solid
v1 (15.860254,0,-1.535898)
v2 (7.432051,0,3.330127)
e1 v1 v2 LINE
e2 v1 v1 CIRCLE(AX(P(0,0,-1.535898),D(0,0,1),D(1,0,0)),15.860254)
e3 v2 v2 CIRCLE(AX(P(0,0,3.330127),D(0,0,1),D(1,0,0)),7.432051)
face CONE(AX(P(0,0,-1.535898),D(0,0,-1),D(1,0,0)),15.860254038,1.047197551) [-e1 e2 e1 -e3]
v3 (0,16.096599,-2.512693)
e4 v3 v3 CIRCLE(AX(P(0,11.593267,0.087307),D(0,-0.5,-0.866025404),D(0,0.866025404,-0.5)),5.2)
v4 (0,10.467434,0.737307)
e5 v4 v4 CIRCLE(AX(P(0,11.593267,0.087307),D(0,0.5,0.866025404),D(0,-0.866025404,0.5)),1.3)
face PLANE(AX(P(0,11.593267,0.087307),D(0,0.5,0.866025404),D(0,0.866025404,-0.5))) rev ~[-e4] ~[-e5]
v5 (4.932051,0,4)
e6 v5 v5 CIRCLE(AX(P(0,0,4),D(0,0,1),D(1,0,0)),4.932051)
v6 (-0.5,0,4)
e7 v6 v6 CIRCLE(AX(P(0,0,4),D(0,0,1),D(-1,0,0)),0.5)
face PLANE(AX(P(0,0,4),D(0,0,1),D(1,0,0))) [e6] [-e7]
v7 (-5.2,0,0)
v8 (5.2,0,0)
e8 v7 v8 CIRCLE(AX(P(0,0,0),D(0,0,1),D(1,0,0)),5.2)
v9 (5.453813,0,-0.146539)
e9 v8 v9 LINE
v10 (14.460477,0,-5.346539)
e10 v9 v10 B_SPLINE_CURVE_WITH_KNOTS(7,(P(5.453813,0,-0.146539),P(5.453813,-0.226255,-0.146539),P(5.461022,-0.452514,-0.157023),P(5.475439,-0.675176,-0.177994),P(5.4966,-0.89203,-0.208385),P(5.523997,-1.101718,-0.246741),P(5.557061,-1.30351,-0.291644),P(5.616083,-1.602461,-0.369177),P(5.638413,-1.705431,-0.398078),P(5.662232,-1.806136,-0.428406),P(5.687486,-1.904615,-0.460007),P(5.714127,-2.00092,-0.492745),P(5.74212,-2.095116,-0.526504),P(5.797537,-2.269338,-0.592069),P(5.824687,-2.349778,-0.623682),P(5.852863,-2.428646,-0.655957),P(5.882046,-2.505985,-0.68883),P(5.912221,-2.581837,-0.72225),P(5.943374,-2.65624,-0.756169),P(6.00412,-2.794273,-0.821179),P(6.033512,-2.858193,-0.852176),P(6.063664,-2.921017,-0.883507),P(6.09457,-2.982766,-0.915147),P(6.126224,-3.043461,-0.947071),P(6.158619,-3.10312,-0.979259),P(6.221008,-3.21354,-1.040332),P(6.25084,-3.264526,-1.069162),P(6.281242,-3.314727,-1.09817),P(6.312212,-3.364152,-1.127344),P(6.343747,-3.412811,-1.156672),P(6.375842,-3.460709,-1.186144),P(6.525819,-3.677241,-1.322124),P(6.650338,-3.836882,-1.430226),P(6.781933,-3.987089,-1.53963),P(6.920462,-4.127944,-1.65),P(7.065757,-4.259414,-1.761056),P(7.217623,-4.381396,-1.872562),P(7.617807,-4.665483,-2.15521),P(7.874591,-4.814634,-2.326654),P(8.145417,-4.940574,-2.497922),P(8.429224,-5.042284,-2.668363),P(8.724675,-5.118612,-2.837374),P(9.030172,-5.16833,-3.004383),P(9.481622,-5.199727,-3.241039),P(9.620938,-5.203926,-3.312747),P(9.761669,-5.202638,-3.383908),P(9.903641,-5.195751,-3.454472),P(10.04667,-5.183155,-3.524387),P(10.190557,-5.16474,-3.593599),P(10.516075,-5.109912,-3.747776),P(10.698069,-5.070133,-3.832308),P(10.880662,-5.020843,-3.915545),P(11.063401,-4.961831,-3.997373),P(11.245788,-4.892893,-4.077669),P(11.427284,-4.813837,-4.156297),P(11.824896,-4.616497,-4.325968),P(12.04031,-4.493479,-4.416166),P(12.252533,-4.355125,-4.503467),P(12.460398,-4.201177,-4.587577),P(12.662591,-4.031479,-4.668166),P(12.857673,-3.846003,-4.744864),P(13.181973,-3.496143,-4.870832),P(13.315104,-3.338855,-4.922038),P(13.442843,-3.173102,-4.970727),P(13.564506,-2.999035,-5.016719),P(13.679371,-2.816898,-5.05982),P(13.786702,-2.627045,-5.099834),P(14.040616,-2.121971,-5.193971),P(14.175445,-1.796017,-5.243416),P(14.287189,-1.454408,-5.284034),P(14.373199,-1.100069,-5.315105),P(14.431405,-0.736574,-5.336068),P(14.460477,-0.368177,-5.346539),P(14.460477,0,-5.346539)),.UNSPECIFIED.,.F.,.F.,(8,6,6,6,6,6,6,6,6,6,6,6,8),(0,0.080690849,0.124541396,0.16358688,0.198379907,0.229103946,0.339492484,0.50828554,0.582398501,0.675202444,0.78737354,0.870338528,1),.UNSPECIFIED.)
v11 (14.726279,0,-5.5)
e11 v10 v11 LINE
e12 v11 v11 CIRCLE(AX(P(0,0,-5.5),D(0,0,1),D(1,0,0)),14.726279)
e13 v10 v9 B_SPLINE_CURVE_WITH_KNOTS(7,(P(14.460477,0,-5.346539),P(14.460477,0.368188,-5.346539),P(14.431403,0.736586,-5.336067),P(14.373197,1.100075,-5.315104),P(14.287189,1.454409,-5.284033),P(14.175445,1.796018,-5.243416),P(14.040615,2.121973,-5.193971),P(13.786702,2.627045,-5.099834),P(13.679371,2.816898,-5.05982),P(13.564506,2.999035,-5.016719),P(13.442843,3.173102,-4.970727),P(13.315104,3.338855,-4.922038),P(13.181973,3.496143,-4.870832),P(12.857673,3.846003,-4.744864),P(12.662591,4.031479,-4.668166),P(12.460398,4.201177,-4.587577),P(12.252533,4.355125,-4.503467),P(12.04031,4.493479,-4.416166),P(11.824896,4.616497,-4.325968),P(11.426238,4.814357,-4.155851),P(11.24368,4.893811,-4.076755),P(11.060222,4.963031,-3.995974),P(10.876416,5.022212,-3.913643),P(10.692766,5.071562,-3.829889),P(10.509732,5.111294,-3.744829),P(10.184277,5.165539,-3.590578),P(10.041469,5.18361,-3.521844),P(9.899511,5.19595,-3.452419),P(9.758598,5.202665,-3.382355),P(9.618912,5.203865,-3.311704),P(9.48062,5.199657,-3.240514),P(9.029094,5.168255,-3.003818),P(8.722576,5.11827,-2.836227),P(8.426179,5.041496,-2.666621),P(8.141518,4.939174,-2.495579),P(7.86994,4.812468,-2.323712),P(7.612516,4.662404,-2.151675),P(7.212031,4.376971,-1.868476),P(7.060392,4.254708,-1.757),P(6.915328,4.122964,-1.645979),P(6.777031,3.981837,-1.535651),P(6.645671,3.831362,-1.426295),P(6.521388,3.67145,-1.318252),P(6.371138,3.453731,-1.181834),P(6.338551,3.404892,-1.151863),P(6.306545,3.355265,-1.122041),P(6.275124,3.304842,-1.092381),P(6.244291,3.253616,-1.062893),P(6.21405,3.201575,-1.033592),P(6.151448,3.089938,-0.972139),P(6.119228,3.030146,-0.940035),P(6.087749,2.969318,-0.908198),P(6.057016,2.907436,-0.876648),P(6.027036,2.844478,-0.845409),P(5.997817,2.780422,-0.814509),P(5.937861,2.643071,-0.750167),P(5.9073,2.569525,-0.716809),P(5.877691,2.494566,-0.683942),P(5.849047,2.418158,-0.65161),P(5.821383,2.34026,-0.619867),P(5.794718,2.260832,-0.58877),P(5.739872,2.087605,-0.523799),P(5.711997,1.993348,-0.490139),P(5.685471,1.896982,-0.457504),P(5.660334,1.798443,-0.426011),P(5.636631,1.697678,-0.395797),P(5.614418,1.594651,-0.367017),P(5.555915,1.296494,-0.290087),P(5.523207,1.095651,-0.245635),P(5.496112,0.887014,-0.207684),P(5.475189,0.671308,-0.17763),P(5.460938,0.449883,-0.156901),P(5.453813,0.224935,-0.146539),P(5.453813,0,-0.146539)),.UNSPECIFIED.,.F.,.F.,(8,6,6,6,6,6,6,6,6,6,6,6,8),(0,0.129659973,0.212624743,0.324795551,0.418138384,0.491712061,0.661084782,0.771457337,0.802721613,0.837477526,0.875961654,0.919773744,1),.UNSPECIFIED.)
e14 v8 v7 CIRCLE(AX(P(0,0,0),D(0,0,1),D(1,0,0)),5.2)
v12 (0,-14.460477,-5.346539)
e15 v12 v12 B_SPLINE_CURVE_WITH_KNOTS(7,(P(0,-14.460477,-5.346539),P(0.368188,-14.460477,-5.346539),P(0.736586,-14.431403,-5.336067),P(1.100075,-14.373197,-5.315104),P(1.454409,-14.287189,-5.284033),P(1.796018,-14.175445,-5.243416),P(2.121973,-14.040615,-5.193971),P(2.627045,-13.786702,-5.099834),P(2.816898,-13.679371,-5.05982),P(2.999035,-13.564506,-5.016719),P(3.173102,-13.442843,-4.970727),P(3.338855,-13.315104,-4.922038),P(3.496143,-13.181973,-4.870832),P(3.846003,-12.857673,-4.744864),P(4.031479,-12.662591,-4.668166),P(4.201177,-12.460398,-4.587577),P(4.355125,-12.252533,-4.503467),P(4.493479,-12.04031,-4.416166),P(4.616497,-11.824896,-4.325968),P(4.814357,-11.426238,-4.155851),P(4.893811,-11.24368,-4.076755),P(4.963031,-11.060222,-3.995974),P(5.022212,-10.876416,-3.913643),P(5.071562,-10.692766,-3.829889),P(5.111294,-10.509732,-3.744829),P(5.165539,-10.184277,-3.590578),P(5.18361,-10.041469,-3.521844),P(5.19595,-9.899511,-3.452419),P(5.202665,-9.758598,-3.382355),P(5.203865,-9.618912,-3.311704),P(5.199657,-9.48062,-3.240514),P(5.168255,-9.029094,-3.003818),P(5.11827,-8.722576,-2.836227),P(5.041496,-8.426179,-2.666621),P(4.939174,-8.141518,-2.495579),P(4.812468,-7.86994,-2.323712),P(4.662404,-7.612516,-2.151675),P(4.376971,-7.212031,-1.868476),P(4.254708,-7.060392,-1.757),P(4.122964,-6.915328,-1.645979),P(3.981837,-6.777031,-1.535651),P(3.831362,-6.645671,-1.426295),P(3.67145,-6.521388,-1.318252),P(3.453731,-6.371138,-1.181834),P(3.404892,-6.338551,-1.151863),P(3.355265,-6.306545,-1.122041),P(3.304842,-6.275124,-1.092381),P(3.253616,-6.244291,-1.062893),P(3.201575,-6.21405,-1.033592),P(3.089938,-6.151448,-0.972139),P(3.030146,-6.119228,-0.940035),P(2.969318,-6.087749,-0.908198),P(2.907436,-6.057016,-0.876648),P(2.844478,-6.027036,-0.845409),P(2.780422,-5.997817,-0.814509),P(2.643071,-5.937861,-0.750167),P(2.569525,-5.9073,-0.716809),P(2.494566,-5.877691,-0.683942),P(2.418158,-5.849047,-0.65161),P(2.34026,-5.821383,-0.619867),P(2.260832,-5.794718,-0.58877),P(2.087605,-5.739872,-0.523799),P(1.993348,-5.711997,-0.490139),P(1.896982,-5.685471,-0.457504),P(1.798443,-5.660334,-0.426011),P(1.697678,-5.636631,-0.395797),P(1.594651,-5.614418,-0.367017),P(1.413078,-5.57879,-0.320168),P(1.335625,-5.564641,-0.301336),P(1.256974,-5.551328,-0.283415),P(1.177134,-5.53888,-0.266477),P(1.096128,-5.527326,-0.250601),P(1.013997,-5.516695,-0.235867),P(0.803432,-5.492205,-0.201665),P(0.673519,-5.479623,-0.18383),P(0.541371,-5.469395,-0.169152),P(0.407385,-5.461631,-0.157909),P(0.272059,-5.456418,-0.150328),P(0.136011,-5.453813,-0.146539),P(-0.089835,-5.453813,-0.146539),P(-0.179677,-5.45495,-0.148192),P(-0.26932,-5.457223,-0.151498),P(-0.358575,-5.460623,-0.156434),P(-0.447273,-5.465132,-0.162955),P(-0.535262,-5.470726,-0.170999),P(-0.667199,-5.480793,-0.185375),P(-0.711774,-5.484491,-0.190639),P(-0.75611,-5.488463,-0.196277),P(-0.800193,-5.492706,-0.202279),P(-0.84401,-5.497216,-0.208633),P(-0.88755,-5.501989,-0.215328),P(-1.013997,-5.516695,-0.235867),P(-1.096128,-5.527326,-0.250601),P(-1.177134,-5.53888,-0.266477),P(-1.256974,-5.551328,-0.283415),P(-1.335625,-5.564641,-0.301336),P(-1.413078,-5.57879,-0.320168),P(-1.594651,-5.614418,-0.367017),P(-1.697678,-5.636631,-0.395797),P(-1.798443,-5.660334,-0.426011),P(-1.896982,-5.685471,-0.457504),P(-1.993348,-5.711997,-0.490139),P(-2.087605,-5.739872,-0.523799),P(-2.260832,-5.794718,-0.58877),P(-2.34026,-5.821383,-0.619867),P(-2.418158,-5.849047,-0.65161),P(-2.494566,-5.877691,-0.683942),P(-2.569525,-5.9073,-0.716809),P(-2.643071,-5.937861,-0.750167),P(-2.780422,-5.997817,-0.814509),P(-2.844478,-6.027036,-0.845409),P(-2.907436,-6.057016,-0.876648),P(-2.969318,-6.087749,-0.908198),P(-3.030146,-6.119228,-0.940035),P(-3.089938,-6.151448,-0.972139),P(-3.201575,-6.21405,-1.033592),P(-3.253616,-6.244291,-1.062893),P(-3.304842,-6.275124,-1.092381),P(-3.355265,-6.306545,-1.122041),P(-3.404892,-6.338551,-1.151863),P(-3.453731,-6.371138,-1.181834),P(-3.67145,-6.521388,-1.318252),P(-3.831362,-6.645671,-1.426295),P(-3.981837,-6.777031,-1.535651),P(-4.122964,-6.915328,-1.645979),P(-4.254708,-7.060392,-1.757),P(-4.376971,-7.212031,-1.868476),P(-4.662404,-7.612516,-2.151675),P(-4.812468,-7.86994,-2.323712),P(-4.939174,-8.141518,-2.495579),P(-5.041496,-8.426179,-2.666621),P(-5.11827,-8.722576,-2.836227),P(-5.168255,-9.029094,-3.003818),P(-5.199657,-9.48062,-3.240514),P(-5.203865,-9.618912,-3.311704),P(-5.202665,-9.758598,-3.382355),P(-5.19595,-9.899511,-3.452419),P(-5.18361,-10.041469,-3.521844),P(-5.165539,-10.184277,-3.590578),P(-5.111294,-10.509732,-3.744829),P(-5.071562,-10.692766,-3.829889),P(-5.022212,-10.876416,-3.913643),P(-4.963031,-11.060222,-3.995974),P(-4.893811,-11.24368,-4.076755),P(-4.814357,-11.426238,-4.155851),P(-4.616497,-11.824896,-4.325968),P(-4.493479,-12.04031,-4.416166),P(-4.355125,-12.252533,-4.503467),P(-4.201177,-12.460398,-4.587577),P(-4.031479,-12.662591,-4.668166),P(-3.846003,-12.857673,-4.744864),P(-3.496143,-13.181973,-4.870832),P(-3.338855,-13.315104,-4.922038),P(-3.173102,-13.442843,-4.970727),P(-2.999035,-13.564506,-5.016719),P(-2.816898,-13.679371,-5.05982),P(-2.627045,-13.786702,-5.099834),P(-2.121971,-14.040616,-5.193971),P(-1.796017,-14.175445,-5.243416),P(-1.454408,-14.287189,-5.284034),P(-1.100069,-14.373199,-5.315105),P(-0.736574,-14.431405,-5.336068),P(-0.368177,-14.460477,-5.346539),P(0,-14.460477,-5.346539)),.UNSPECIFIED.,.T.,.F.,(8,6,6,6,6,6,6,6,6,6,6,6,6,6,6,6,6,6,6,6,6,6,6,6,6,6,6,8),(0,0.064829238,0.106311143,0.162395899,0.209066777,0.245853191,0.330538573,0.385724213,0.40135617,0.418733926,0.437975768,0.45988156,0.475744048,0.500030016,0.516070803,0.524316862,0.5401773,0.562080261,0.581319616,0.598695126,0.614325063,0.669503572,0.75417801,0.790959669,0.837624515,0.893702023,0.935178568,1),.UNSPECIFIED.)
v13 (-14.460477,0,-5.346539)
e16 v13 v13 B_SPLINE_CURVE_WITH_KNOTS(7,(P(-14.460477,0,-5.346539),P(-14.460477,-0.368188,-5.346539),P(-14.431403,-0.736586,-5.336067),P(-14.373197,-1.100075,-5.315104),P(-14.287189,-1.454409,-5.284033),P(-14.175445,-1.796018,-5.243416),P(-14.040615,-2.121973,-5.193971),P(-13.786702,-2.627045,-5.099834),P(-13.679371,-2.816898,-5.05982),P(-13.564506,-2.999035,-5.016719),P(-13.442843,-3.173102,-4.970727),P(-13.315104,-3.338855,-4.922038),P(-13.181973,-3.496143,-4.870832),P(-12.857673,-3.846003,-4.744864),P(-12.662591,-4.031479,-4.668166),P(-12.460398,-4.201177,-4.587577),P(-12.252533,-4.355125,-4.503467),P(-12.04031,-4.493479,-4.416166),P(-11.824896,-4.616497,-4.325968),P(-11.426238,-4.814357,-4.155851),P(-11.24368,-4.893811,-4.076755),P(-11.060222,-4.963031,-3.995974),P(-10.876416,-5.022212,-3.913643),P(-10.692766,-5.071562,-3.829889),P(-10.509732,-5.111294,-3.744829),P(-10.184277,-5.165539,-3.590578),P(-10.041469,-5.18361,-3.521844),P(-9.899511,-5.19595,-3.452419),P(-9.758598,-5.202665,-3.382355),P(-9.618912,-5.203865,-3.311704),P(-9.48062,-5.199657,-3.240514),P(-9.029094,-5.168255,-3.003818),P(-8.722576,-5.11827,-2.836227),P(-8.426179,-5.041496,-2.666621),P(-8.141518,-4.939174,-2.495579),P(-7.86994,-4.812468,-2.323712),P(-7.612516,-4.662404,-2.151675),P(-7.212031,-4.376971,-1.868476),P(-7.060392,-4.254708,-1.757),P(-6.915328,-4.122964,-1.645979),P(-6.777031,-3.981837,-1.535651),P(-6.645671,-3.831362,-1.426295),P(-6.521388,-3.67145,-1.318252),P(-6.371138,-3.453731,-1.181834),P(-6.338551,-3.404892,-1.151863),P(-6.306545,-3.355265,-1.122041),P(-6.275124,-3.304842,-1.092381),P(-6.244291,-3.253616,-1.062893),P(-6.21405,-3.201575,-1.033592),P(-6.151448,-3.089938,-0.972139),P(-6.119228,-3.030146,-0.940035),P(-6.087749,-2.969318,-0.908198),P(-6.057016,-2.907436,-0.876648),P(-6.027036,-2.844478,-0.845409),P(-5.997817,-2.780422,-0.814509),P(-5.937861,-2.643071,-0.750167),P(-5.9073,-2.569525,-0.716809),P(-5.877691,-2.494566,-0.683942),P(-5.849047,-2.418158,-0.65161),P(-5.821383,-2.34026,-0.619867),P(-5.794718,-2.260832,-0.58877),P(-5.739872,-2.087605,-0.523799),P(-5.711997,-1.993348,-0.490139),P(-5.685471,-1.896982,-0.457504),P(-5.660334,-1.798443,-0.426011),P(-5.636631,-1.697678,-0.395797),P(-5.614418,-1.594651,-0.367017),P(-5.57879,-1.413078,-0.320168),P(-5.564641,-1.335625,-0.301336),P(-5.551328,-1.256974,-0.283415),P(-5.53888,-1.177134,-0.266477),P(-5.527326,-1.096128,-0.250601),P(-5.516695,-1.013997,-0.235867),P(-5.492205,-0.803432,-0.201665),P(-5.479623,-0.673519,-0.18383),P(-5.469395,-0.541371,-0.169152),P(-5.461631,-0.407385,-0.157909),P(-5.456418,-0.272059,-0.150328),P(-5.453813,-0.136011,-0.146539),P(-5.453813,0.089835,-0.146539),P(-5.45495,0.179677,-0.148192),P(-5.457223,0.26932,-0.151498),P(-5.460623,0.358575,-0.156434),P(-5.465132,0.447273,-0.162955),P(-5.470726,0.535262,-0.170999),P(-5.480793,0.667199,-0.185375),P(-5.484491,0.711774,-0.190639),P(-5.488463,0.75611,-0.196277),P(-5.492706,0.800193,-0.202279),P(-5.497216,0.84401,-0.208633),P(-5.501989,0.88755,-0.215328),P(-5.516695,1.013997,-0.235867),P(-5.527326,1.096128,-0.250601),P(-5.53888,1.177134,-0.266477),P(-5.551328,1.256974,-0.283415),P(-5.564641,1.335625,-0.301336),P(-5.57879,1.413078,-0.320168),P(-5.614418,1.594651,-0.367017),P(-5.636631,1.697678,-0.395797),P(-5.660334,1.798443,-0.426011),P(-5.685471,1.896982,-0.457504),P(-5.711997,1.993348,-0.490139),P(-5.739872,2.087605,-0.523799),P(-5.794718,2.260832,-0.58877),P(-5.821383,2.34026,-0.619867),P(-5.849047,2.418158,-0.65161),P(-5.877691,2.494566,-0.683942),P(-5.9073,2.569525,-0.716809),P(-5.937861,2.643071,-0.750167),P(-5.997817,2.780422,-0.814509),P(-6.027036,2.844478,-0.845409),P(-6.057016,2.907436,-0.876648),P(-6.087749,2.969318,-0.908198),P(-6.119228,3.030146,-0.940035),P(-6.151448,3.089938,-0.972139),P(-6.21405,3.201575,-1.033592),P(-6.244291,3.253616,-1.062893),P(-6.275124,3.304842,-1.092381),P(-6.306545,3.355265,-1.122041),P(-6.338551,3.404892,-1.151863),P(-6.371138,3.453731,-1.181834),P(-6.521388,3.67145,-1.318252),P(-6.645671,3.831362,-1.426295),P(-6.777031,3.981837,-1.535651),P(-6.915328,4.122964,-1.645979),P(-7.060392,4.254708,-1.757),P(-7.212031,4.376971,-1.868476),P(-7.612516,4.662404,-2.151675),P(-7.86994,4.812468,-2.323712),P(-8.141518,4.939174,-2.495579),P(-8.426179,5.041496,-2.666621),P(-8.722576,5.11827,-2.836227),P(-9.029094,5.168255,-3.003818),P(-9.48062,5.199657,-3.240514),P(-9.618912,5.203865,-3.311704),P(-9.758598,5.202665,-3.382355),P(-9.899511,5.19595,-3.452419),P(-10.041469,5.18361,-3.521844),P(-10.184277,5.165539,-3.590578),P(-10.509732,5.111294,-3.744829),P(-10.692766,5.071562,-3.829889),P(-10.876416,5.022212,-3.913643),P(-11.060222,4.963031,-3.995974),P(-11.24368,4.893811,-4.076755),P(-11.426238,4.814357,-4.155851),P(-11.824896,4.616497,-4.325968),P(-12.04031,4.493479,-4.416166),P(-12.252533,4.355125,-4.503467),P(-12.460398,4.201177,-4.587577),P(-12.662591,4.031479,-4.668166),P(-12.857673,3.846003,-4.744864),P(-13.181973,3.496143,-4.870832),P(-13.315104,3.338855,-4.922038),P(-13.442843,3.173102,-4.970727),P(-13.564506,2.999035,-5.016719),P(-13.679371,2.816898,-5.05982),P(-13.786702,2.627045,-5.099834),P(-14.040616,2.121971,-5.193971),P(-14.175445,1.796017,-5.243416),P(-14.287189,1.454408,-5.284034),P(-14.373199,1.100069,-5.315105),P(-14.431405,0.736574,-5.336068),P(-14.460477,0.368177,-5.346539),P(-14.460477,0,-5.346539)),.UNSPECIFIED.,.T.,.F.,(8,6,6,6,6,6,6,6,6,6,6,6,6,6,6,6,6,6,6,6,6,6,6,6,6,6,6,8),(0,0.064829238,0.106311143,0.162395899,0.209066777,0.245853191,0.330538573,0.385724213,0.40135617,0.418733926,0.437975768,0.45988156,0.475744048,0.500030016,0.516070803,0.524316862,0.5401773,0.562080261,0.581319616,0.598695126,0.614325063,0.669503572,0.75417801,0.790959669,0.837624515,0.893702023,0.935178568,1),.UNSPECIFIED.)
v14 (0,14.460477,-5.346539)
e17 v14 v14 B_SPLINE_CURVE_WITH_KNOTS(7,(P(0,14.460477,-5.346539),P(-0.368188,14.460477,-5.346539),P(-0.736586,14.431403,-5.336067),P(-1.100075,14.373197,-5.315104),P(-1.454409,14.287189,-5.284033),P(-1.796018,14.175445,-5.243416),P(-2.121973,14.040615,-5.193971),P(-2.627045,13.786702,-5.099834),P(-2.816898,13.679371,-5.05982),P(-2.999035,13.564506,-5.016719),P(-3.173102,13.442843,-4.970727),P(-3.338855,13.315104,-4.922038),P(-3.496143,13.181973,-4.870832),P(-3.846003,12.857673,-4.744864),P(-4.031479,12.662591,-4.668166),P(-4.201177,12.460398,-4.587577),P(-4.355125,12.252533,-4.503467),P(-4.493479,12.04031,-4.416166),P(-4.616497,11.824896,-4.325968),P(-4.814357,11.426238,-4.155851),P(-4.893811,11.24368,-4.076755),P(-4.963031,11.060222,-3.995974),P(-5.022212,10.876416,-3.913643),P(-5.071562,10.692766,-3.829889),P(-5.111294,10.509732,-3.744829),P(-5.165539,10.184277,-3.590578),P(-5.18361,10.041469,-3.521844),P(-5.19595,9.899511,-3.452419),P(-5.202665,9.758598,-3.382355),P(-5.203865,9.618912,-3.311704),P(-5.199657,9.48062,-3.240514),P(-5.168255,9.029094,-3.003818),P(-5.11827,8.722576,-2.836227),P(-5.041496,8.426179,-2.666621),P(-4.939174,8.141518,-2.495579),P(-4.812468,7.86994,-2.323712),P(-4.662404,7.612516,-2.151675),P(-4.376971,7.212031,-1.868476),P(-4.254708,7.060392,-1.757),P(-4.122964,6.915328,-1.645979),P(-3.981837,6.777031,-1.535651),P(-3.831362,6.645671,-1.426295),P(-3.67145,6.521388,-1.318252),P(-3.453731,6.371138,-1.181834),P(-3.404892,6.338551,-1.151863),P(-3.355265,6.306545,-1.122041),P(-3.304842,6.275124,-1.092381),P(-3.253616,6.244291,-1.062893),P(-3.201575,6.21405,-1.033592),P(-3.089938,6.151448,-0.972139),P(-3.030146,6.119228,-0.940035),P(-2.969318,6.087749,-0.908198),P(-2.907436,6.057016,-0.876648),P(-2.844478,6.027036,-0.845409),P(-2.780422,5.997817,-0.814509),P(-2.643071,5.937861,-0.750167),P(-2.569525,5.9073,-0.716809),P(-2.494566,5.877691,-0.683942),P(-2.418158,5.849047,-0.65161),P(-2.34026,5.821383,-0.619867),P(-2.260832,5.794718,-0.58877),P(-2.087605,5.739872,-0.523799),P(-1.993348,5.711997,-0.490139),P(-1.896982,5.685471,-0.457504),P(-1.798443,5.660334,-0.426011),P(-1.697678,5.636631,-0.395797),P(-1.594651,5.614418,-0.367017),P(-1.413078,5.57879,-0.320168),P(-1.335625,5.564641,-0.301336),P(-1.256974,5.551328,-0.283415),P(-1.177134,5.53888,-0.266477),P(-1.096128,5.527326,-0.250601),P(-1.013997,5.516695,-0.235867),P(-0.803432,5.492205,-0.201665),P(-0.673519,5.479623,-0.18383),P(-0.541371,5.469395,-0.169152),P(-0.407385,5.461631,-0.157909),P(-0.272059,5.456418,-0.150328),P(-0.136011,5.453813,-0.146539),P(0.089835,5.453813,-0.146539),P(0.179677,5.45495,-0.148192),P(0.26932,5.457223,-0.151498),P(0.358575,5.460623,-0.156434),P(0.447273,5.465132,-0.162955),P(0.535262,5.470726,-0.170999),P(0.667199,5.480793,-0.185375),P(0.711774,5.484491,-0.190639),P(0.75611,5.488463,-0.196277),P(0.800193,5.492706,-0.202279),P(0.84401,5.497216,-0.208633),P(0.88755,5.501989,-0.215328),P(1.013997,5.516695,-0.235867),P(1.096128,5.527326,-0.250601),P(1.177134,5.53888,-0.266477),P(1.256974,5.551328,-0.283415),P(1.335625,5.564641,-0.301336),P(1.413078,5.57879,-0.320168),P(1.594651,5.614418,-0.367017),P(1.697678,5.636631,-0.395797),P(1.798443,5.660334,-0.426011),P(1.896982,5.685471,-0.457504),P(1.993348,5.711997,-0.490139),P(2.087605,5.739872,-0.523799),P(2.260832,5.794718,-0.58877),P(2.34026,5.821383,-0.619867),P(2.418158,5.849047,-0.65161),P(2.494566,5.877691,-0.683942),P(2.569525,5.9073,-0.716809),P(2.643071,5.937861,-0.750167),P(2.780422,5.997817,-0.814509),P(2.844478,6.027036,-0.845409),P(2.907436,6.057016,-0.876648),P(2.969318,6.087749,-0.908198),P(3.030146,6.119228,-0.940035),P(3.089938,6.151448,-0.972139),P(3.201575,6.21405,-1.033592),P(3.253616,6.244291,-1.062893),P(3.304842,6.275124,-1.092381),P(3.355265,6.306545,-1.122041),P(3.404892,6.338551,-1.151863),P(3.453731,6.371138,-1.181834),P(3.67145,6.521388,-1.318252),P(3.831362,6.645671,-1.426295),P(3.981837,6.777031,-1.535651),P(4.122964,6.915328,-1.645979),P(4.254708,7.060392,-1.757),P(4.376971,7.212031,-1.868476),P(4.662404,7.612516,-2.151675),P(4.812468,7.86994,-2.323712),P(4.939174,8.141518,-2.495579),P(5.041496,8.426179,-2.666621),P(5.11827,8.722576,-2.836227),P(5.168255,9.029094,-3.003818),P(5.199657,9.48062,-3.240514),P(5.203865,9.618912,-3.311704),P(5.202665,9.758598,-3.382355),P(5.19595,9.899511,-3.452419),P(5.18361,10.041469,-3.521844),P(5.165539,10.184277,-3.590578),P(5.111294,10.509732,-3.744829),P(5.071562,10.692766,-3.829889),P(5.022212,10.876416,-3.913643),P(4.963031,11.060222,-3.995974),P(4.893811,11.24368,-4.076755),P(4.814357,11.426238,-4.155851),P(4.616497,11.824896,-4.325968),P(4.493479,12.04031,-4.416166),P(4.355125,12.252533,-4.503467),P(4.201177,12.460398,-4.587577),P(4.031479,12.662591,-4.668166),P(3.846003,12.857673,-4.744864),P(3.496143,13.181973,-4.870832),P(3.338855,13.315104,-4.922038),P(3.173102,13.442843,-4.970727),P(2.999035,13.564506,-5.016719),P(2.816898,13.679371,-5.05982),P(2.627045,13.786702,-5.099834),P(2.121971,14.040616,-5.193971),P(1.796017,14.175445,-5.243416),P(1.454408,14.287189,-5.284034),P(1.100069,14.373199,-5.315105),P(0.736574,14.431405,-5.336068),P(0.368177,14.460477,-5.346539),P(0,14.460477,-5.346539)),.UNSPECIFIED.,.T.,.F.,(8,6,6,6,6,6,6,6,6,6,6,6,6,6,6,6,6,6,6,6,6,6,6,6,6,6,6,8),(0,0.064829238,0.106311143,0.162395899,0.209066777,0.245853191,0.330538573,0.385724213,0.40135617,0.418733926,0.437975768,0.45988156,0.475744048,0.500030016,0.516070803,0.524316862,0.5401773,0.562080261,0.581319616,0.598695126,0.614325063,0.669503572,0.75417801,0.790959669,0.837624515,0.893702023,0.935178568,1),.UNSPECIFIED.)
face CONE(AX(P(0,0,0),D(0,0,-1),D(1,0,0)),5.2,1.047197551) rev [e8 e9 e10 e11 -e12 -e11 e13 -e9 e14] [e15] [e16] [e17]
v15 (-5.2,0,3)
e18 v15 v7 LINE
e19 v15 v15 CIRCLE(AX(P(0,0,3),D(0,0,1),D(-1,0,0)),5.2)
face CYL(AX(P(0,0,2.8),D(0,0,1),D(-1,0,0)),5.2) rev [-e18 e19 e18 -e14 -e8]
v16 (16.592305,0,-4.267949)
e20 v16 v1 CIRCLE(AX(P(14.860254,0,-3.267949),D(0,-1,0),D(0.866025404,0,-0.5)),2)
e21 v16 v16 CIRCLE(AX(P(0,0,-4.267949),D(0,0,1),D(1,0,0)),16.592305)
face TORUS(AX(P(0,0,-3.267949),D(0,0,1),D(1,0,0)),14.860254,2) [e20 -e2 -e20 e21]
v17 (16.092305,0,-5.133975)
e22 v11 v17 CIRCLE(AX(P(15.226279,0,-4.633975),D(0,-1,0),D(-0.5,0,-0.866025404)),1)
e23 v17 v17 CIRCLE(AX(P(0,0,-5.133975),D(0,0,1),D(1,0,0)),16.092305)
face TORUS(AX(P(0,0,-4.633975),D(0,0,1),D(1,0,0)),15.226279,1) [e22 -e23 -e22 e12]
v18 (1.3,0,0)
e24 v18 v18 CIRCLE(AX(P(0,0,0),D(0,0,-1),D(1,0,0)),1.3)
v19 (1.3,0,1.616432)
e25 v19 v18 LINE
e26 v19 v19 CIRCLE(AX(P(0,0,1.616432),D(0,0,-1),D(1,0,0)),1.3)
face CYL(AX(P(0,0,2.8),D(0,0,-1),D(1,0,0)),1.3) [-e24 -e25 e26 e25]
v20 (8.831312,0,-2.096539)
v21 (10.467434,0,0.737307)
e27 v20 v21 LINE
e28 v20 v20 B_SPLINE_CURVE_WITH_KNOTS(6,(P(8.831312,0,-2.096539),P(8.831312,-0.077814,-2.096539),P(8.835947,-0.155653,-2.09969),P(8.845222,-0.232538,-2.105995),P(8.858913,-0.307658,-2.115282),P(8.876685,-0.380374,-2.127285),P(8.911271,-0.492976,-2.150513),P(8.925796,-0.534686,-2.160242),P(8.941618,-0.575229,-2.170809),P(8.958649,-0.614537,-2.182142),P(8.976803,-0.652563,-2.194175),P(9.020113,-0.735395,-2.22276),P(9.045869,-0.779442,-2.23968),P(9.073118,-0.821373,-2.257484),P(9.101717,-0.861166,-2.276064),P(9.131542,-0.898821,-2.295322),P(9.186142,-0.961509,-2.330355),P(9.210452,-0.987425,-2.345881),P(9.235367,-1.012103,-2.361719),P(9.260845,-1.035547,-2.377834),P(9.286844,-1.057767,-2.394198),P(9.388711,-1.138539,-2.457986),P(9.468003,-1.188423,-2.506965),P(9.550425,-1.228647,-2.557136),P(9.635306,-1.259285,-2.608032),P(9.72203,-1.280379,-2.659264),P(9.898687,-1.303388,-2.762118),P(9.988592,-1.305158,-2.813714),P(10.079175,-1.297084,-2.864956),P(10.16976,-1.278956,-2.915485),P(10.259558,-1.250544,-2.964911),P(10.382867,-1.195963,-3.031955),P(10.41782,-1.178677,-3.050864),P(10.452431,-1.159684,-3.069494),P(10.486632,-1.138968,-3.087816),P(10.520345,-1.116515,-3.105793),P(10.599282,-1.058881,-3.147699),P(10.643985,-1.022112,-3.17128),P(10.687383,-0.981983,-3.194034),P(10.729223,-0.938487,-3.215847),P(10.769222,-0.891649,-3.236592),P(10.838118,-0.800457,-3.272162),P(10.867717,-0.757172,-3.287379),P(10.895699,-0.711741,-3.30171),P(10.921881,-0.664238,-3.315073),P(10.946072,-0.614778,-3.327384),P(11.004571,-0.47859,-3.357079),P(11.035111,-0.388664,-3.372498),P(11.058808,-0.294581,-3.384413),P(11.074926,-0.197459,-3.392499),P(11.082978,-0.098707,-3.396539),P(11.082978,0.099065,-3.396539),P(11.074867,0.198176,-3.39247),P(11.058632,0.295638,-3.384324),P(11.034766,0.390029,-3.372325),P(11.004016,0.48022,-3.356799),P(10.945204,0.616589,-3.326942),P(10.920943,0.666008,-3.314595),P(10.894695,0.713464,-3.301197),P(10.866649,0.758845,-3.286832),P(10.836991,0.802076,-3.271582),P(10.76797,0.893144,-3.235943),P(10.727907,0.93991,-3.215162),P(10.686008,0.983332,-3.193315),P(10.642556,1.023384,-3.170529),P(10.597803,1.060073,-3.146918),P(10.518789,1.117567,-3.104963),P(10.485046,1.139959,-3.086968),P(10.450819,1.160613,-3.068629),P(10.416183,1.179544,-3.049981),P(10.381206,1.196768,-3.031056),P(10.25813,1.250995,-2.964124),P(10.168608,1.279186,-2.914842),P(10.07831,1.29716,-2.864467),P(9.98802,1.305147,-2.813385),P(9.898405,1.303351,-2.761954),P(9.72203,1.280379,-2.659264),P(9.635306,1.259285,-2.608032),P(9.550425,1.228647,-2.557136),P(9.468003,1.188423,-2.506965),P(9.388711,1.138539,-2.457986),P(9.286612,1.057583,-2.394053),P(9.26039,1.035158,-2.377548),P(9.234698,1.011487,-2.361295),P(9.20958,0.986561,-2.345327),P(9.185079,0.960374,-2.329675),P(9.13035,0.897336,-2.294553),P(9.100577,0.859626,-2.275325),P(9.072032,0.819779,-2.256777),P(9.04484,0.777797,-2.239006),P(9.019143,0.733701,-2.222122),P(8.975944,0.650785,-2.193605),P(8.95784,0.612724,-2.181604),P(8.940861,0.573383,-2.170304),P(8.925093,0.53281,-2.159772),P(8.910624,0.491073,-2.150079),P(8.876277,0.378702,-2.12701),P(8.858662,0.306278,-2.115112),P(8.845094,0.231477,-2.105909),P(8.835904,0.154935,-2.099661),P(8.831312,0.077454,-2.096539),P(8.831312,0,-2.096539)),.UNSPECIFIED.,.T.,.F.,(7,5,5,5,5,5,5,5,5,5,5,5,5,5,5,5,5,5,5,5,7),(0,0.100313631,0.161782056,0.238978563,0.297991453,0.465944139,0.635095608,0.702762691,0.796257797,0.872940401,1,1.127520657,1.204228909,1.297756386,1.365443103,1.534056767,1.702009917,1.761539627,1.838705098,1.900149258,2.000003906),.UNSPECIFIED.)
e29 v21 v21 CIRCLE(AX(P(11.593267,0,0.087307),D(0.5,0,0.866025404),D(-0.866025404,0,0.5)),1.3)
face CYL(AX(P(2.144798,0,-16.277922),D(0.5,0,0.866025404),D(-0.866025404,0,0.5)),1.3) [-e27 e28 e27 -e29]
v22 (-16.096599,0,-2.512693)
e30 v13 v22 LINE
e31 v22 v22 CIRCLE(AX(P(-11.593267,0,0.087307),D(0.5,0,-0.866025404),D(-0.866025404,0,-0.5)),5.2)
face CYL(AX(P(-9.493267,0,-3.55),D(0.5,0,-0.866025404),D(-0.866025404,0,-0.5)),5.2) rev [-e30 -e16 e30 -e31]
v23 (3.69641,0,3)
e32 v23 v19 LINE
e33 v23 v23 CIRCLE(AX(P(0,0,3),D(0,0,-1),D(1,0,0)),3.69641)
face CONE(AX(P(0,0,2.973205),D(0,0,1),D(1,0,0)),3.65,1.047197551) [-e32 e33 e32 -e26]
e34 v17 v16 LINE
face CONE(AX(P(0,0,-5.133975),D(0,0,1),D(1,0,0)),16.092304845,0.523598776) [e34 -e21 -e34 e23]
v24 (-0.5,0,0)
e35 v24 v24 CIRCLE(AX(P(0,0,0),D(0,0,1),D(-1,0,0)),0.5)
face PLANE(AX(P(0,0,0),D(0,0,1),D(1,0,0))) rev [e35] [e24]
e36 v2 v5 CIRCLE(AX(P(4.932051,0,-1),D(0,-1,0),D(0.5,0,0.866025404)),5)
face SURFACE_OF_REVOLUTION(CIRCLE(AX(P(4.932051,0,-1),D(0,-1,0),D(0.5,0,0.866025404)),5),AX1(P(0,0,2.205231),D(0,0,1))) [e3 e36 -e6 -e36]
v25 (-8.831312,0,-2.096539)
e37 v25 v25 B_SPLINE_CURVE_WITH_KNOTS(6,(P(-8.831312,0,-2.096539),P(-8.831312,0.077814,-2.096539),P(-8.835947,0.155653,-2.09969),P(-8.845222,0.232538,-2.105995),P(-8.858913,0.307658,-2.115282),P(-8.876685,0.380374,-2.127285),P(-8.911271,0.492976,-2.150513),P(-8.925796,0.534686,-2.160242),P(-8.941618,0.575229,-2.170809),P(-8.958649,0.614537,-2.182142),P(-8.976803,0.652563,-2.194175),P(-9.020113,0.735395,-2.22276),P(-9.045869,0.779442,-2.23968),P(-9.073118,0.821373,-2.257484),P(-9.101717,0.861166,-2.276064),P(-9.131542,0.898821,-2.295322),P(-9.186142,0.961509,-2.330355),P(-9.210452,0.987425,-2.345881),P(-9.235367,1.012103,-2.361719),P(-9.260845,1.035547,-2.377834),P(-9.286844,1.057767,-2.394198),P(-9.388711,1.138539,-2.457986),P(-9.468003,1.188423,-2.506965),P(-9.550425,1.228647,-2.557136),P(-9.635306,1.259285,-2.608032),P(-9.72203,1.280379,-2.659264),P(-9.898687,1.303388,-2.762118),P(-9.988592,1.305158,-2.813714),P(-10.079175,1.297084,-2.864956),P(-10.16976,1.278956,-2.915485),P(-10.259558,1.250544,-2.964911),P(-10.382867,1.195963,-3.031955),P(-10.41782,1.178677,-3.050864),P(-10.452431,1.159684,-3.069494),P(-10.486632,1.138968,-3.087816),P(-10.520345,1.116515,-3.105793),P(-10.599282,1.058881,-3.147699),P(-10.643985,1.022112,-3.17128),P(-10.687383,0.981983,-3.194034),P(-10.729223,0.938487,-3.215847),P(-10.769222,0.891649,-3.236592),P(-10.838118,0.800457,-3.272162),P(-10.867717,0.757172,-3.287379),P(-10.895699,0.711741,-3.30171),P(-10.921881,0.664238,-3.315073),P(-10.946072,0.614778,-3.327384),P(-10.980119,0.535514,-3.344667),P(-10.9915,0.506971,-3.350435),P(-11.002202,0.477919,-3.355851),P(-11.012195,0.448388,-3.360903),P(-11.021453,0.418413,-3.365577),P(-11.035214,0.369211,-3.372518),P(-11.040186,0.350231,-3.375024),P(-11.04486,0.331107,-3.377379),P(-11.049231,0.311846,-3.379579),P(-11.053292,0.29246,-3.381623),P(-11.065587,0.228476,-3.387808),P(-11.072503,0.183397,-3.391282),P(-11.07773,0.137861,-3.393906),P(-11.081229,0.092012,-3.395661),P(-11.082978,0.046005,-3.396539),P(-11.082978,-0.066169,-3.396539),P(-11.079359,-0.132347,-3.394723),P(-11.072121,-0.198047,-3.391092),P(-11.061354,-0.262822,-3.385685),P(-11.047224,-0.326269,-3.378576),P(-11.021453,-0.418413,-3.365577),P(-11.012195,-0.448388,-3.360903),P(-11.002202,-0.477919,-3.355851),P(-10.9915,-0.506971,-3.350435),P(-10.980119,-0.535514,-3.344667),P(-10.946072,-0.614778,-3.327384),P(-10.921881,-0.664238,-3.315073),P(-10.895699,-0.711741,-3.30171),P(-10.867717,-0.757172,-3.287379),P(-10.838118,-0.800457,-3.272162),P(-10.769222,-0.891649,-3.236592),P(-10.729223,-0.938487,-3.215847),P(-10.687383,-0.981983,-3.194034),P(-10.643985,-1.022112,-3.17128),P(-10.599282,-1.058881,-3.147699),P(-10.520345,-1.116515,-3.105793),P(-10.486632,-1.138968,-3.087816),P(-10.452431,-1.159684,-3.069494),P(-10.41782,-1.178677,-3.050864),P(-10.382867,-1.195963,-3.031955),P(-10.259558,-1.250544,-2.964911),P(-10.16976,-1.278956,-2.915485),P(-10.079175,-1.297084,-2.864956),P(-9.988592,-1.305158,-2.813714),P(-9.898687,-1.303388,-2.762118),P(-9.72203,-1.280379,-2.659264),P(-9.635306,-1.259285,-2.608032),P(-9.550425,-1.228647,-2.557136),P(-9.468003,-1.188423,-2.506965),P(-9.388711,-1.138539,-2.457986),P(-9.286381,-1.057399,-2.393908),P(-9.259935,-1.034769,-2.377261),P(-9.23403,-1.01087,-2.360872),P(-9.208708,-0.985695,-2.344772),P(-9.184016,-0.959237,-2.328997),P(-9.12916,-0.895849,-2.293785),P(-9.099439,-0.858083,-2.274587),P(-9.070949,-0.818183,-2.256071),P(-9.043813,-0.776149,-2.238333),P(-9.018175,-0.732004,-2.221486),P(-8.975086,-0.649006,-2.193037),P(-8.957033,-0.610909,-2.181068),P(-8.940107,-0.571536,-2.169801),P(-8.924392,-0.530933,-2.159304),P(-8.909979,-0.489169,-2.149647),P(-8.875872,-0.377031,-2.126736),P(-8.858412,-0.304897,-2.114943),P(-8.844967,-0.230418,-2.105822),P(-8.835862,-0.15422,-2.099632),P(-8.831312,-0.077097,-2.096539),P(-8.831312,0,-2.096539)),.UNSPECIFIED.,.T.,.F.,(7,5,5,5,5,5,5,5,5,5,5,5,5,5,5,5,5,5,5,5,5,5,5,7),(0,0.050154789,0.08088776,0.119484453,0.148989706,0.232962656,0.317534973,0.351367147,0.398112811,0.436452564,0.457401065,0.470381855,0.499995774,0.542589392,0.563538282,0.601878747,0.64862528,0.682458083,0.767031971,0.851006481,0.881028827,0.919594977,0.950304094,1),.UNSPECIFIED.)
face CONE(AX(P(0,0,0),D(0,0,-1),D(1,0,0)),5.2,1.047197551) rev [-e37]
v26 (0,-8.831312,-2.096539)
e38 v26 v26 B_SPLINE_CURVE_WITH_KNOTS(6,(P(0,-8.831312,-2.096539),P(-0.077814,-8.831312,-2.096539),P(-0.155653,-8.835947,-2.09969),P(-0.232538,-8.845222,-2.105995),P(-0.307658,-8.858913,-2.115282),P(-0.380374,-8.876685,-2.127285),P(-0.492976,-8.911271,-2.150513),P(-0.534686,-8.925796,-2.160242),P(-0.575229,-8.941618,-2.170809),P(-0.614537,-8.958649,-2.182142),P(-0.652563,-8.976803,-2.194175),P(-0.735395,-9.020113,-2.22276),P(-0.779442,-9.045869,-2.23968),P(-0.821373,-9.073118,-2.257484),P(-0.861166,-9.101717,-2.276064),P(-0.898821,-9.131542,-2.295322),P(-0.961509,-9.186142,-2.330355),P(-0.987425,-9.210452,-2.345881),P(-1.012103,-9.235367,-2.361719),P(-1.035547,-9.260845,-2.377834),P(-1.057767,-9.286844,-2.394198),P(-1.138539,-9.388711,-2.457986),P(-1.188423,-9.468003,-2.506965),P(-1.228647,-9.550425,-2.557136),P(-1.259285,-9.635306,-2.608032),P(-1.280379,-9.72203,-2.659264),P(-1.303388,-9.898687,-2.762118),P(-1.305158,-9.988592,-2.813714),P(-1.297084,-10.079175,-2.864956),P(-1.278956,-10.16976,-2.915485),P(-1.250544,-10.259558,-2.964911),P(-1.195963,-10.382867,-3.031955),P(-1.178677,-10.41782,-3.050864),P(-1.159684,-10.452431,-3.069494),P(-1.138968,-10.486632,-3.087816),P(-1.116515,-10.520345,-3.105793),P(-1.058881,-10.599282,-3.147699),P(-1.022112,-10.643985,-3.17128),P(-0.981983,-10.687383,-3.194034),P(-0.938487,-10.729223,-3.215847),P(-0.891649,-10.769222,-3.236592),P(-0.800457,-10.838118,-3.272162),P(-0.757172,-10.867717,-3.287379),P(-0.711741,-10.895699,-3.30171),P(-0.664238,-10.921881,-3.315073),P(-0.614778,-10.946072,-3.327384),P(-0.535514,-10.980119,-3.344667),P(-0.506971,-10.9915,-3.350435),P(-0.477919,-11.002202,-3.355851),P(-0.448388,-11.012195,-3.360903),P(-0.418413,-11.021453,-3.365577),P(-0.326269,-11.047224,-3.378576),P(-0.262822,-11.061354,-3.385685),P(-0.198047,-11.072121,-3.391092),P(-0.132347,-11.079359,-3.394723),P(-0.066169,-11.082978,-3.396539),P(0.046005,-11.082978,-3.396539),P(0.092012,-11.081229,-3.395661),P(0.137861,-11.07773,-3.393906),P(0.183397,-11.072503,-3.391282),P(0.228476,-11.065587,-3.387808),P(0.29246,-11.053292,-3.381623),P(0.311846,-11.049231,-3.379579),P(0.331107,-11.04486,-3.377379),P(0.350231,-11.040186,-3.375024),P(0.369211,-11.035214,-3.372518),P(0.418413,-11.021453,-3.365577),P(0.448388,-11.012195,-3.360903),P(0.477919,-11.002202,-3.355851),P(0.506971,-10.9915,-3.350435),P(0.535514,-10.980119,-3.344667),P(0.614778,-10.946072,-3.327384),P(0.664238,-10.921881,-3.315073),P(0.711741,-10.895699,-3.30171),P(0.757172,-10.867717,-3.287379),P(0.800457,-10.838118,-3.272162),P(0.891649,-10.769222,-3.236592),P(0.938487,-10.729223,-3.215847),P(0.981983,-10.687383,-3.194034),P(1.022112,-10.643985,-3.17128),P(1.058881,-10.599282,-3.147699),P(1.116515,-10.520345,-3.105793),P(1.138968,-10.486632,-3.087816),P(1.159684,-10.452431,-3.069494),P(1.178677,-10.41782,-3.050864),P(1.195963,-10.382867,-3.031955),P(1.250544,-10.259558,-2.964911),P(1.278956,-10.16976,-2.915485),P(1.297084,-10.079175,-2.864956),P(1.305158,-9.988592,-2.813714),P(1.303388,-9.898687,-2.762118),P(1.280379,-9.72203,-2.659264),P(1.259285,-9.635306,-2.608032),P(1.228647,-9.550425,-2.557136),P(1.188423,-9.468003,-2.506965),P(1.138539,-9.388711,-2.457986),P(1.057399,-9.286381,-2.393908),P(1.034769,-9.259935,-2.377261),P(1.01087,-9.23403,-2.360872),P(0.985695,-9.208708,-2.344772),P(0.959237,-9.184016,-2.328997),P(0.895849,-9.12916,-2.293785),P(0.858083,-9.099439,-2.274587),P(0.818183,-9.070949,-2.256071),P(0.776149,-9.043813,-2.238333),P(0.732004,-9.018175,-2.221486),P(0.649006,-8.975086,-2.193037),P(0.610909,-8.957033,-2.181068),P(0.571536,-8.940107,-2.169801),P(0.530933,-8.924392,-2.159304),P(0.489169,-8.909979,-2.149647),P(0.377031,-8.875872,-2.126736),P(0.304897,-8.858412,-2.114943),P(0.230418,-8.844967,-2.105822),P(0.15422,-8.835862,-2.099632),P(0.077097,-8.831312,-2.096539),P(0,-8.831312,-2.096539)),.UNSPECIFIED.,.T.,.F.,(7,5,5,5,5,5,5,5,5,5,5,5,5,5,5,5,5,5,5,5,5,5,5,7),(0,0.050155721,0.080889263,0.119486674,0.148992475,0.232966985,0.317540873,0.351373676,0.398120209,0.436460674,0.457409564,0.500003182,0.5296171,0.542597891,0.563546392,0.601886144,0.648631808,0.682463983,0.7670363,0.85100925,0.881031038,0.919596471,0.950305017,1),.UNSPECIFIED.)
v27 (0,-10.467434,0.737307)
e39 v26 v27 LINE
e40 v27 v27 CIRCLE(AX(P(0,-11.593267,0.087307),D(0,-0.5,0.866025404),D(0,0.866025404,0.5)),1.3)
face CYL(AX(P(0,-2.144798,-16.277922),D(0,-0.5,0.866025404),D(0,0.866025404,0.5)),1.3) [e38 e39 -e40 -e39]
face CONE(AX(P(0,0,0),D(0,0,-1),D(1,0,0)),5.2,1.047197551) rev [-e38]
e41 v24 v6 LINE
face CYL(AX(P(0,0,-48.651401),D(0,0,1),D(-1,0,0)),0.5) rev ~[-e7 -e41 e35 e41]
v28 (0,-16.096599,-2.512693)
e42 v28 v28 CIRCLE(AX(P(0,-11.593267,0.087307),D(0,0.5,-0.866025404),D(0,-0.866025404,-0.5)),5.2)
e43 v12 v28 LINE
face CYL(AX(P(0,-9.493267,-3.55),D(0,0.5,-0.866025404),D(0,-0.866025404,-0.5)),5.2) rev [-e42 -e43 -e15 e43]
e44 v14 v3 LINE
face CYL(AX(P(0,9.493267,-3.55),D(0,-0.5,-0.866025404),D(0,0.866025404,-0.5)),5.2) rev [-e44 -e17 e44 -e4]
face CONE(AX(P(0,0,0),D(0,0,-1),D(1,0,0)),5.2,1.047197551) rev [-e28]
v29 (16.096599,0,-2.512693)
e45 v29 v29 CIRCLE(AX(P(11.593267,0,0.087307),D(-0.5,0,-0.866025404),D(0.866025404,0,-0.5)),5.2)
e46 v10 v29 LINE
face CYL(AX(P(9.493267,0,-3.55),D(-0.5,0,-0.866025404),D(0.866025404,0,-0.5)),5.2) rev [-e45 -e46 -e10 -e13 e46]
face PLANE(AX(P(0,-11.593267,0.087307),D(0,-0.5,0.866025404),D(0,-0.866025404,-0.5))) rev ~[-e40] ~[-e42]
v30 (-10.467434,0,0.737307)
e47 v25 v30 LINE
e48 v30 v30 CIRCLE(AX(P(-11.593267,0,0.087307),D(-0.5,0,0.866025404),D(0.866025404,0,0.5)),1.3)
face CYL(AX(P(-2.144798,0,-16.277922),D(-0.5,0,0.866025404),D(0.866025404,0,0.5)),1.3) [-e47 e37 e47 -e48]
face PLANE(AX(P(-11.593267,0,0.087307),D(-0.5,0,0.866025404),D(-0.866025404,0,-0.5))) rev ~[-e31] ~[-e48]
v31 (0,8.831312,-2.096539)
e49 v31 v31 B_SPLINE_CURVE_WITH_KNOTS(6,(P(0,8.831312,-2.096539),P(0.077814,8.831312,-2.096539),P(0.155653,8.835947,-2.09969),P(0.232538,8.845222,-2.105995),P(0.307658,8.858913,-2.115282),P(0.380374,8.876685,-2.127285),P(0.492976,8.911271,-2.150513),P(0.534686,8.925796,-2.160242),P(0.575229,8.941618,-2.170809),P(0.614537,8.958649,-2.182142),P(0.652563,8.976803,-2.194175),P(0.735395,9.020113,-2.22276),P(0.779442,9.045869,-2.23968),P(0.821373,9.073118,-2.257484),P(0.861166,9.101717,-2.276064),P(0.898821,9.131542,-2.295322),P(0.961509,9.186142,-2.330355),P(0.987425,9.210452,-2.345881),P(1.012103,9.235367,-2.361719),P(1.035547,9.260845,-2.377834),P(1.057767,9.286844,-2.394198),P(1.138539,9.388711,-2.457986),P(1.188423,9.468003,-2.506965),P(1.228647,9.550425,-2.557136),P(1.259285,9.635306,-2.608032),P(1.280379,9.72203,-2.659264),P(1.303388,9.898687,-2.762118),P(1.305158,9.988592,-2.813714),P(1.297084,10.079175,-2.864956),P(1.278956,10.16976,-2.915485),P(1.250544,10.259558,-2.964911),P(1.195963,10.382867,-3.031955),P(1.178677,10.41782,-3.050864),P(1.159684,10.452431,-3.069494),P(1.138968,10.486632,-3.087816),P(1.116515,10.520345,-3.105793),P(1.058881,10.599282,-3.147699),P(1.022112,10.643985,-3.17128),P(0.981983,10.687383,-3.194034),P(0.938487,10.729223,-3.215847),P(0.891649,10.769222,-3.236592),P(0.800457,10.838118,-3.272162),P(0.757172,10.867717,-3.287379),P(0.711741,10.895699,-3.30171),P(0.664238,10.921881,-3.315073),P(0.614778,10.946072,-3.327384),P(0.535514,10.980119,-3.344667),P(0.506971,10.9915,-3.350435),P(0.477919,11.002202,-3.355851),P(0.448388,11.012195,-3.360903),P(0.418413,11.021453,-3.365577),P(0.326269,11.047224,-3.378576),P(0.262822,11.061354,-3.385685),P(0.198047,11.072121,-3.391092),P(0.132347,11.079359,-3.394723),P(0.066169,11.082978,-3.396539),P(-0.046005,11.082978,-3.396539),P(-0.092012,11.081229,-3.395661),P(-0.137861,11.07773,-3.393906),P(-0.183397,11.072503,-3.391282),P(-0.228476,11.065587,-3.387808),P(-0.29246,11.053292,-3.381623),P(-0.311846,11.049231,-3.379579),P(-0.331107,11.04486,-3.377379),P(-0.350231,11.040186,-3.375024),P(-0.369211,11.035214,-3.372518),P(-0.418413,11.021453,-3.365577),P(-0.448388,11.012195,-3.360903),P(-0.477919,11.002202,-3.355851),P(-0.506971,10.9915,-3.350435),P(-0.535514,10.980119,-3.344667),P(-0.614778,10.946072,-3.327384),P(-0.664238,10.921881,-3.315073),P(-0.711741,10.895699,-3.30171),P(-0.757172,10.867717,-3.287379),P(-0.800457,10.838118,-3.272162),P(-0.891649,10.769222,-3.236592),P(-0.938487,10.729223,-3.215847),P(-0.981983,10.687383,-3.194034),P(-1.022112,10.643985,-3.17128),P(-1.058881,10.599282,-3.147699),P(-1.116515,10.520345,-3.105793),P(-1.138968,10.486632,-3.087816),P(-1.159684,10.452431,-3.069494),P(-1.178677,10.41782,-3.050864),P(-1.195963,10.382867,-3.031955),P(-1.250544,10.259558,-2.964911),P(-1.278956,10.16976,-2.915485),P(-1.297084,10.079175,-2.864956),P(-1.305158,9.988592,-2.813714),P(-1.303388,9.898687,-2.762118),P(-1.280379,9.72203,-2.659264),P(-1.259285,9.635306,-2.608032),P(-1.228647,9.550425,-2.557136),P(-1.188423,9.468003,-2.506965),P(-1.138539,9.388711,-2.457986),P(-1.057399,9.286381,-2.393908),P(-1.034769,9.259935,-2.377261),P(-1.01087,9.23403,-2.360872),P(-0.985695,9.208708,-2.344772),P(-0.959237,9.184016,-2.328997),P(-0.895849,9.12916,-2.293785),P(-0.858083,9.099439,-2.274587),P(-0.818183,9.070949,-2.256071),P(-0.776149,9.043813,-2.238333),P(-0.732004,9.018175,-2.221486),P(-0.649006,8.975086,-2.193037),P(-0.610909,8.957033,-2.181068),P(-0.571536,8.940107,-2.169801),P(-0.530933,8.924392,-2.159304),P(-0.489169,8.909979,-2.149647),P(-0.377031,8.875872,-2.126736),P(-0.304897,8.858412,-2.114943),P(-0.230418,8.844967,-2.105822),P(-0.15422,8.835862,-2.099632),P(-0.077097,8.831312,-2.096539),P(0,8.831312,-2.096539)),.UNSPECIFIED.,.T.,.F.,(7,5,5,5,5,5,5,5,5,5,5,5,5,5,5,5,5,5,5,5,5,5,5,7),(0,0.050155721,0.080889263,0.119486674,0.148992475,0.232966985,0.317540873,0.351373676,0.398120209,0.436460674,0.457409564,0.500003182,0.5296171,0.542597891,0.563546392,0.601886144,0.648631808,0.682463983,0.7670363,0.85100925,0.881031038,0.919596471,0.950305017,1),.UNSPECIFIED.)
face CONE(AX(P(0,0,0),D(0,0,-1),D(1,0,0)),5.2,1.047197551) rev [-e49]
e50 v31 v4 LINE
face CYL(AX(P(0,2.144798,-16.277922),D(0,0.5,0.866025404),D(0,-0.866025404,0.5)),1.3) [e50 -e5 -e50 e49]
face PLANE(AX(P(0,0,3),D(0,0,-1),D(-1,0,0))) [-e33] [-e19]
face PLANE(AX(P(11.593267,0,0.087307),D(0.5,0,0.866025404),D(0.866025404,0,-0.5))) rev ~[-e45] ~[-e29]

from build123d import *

# Parameters (mm, degrees)
F0_R           = 5
F1_DEPTH       = 2.8
F2_D           = 3
F2_CSINK_D     = 7.5
F2_CSINK_ANGLE = 120
F5_R           = 5
F6_DEPTH       = 4
F7_D           = 3
F8_ANGLE       = 30
F10_ANGLE      = 180
F12_COUNT      = 4
F15_OFFSET     = 0.2
F16_D          = 1


with BuildPart() as f1:
    # F0 (on Top) → F1 (new body)
    with BuildSketch(Plane.XY):
        Circle(F0_R)
    extrude(amount=F1_DEPTH)

    # F2 (through all)
    with Locations(Plane(origin=(0, 0, 0), x_dir=(1, 0, 0), z_dir=(0, 0, -1))):
        with Locations((0, 0)):
            CounterSinkHole(F2_D / 2, F2_CSINK_D / 2, counter_sink_angle=F2_CSINK_ANGLE)


with BuildPart() as f6:
    # F5 (on Top) → F6 (new body)
    with BuildSketch(Plane.XY):
        with Locations((10.5, 0)):
            Circle(F5_R)
    extrude(amount=F6_DEPTH)

    # F7 (through all)
    with Locations(Plane(origin=(0, 0, 0), x_dir=(1, 0, 0), z_dir=(0, 0, -1))):
        with Locations((10.5, 0)):
            Hole(F7_D / 2)


with BuildPart() as f6_1:
    # F8: moved
    add(f6.part.rotate(Axis((0, 2.2134934552, 0), (0, 1, 0)), F8_ANGLE))


with BuildPart() as f6_2:
    # F9: moved
    add(f6_1.part.moved(Location((0.4, 0, 1.7))))


with BuildPart() as f1_1:
    # F10: moved
    add(f1.part.rotate(Axis((0, 2.2134934552, 0), (0, 1, 0)), F10_ANGLE))


with BuildPart() as f1_2:
    # F11: moved
    add(f1_1.part.moved(Location((0, 0, 2.8))))


with BuildPart() as f12_1:
    # F12: instance of F6
    add(f6_2.part.rotate(Axis((0, 0, 2.205231227), (0, 0, 1)), 1 * 360 / F12_COUNT))


with BuildPart() as f12_2:
    # F12: instance of F6
    add(f6_2.part.rotate(Axis((0, 0, 2.205231227), (0, 0, 1)), 2 * 360 / F12_COUNT))


with BuildPart() as f12_3:
    # F12: instance of F6
    add(f6_2.part.rotate(Axis((0, 0, 2.205231227), (0, 0, 1)), 3 * 360 / F12_COUNT))


with BuildPart() as f14:
    # F13 (on Front) → F14 (revolve)
    with BuildSketch(Plane.XZ):
        with BuildLine():
            Line((0, 4), (0, 0))
            Line((0, 0), (5.2, 0))
            Line((5.2, 0), (14.7262794416, -5.5))
            ThreePointArc((14.7262794416, -5.5), (15.4850984867, -5.5999004225), (16.0923048454, -5.1339745962))
            Line((16.0923048454, -5.1339745962), (16.5923048454, -4.2679491924))
            ThreePointArc((16.5923048454, -4.2679491924), (16.7921056904, -2.7503111022), (15.8602540378, -1.5358983849))
            Line((15.8602540378, -1.5358983849), (7.4320508076, 3.3301270189))
            ThreePointArc((7.4320508076, 3.3301270189), (6.2261460331, 3.8296291314), (4.9320508076, 4))
            Line((4.9320508076, 4), (0, 4))
        make_face()
    revolve(axis=Axis((0, 0, 2.205231227), (0, 0, 1)))

    # F15: cut F1, F6, F12_2, F12_1, F12_3, each made larger all round first
    f15_tool = offset(f1_2.part, amount=F15_OFFSET, kind=Kind.INTERSECTION, mode=Mode.PRIVATE)
    add(f15_tool, mode=Mode.SUBTRACT)
    f15_tool1 = offset(f6_2.part, amount=F15_OFFSET, kind=Kind.INTERSECTION, mode=Mode.PRIVATE)
    add(f15_tool1, mode=Mode.SUBTRACT)
    f15_tool2 = offset(f12_2.part, amount=F15_OFFSET, kind=Kind.INTERSECTION, mode=Mode.PRIVATE)
    add(f15_tool2, mode=Mode.SUBTRACT)
    f15_tool3 = offset(f12_1.part, amount=F15_OFFSET, kind=Kind.INTERSECTION, mode=Mode.PRIVATE)
    add(f15_tool3, mode=Mode.SUBTRACT)
    f15_tool4 = offset(f12_3.part, amount=F15_OFFSET, kind=Kind.INTERSECTION, mode=Mode.PRIVATE)
    add(f15_tool4, mode=Mode.SUBTRACT)

    # F16 (through all)
    with Locations(Plane(origin=(0, 0, 0), x_dir=(1, 0, 0), z_dir=(0, 0, -1))):
        with Locations((0, 0)):
            Hole(F16_D / 2)


solid = f14.part
